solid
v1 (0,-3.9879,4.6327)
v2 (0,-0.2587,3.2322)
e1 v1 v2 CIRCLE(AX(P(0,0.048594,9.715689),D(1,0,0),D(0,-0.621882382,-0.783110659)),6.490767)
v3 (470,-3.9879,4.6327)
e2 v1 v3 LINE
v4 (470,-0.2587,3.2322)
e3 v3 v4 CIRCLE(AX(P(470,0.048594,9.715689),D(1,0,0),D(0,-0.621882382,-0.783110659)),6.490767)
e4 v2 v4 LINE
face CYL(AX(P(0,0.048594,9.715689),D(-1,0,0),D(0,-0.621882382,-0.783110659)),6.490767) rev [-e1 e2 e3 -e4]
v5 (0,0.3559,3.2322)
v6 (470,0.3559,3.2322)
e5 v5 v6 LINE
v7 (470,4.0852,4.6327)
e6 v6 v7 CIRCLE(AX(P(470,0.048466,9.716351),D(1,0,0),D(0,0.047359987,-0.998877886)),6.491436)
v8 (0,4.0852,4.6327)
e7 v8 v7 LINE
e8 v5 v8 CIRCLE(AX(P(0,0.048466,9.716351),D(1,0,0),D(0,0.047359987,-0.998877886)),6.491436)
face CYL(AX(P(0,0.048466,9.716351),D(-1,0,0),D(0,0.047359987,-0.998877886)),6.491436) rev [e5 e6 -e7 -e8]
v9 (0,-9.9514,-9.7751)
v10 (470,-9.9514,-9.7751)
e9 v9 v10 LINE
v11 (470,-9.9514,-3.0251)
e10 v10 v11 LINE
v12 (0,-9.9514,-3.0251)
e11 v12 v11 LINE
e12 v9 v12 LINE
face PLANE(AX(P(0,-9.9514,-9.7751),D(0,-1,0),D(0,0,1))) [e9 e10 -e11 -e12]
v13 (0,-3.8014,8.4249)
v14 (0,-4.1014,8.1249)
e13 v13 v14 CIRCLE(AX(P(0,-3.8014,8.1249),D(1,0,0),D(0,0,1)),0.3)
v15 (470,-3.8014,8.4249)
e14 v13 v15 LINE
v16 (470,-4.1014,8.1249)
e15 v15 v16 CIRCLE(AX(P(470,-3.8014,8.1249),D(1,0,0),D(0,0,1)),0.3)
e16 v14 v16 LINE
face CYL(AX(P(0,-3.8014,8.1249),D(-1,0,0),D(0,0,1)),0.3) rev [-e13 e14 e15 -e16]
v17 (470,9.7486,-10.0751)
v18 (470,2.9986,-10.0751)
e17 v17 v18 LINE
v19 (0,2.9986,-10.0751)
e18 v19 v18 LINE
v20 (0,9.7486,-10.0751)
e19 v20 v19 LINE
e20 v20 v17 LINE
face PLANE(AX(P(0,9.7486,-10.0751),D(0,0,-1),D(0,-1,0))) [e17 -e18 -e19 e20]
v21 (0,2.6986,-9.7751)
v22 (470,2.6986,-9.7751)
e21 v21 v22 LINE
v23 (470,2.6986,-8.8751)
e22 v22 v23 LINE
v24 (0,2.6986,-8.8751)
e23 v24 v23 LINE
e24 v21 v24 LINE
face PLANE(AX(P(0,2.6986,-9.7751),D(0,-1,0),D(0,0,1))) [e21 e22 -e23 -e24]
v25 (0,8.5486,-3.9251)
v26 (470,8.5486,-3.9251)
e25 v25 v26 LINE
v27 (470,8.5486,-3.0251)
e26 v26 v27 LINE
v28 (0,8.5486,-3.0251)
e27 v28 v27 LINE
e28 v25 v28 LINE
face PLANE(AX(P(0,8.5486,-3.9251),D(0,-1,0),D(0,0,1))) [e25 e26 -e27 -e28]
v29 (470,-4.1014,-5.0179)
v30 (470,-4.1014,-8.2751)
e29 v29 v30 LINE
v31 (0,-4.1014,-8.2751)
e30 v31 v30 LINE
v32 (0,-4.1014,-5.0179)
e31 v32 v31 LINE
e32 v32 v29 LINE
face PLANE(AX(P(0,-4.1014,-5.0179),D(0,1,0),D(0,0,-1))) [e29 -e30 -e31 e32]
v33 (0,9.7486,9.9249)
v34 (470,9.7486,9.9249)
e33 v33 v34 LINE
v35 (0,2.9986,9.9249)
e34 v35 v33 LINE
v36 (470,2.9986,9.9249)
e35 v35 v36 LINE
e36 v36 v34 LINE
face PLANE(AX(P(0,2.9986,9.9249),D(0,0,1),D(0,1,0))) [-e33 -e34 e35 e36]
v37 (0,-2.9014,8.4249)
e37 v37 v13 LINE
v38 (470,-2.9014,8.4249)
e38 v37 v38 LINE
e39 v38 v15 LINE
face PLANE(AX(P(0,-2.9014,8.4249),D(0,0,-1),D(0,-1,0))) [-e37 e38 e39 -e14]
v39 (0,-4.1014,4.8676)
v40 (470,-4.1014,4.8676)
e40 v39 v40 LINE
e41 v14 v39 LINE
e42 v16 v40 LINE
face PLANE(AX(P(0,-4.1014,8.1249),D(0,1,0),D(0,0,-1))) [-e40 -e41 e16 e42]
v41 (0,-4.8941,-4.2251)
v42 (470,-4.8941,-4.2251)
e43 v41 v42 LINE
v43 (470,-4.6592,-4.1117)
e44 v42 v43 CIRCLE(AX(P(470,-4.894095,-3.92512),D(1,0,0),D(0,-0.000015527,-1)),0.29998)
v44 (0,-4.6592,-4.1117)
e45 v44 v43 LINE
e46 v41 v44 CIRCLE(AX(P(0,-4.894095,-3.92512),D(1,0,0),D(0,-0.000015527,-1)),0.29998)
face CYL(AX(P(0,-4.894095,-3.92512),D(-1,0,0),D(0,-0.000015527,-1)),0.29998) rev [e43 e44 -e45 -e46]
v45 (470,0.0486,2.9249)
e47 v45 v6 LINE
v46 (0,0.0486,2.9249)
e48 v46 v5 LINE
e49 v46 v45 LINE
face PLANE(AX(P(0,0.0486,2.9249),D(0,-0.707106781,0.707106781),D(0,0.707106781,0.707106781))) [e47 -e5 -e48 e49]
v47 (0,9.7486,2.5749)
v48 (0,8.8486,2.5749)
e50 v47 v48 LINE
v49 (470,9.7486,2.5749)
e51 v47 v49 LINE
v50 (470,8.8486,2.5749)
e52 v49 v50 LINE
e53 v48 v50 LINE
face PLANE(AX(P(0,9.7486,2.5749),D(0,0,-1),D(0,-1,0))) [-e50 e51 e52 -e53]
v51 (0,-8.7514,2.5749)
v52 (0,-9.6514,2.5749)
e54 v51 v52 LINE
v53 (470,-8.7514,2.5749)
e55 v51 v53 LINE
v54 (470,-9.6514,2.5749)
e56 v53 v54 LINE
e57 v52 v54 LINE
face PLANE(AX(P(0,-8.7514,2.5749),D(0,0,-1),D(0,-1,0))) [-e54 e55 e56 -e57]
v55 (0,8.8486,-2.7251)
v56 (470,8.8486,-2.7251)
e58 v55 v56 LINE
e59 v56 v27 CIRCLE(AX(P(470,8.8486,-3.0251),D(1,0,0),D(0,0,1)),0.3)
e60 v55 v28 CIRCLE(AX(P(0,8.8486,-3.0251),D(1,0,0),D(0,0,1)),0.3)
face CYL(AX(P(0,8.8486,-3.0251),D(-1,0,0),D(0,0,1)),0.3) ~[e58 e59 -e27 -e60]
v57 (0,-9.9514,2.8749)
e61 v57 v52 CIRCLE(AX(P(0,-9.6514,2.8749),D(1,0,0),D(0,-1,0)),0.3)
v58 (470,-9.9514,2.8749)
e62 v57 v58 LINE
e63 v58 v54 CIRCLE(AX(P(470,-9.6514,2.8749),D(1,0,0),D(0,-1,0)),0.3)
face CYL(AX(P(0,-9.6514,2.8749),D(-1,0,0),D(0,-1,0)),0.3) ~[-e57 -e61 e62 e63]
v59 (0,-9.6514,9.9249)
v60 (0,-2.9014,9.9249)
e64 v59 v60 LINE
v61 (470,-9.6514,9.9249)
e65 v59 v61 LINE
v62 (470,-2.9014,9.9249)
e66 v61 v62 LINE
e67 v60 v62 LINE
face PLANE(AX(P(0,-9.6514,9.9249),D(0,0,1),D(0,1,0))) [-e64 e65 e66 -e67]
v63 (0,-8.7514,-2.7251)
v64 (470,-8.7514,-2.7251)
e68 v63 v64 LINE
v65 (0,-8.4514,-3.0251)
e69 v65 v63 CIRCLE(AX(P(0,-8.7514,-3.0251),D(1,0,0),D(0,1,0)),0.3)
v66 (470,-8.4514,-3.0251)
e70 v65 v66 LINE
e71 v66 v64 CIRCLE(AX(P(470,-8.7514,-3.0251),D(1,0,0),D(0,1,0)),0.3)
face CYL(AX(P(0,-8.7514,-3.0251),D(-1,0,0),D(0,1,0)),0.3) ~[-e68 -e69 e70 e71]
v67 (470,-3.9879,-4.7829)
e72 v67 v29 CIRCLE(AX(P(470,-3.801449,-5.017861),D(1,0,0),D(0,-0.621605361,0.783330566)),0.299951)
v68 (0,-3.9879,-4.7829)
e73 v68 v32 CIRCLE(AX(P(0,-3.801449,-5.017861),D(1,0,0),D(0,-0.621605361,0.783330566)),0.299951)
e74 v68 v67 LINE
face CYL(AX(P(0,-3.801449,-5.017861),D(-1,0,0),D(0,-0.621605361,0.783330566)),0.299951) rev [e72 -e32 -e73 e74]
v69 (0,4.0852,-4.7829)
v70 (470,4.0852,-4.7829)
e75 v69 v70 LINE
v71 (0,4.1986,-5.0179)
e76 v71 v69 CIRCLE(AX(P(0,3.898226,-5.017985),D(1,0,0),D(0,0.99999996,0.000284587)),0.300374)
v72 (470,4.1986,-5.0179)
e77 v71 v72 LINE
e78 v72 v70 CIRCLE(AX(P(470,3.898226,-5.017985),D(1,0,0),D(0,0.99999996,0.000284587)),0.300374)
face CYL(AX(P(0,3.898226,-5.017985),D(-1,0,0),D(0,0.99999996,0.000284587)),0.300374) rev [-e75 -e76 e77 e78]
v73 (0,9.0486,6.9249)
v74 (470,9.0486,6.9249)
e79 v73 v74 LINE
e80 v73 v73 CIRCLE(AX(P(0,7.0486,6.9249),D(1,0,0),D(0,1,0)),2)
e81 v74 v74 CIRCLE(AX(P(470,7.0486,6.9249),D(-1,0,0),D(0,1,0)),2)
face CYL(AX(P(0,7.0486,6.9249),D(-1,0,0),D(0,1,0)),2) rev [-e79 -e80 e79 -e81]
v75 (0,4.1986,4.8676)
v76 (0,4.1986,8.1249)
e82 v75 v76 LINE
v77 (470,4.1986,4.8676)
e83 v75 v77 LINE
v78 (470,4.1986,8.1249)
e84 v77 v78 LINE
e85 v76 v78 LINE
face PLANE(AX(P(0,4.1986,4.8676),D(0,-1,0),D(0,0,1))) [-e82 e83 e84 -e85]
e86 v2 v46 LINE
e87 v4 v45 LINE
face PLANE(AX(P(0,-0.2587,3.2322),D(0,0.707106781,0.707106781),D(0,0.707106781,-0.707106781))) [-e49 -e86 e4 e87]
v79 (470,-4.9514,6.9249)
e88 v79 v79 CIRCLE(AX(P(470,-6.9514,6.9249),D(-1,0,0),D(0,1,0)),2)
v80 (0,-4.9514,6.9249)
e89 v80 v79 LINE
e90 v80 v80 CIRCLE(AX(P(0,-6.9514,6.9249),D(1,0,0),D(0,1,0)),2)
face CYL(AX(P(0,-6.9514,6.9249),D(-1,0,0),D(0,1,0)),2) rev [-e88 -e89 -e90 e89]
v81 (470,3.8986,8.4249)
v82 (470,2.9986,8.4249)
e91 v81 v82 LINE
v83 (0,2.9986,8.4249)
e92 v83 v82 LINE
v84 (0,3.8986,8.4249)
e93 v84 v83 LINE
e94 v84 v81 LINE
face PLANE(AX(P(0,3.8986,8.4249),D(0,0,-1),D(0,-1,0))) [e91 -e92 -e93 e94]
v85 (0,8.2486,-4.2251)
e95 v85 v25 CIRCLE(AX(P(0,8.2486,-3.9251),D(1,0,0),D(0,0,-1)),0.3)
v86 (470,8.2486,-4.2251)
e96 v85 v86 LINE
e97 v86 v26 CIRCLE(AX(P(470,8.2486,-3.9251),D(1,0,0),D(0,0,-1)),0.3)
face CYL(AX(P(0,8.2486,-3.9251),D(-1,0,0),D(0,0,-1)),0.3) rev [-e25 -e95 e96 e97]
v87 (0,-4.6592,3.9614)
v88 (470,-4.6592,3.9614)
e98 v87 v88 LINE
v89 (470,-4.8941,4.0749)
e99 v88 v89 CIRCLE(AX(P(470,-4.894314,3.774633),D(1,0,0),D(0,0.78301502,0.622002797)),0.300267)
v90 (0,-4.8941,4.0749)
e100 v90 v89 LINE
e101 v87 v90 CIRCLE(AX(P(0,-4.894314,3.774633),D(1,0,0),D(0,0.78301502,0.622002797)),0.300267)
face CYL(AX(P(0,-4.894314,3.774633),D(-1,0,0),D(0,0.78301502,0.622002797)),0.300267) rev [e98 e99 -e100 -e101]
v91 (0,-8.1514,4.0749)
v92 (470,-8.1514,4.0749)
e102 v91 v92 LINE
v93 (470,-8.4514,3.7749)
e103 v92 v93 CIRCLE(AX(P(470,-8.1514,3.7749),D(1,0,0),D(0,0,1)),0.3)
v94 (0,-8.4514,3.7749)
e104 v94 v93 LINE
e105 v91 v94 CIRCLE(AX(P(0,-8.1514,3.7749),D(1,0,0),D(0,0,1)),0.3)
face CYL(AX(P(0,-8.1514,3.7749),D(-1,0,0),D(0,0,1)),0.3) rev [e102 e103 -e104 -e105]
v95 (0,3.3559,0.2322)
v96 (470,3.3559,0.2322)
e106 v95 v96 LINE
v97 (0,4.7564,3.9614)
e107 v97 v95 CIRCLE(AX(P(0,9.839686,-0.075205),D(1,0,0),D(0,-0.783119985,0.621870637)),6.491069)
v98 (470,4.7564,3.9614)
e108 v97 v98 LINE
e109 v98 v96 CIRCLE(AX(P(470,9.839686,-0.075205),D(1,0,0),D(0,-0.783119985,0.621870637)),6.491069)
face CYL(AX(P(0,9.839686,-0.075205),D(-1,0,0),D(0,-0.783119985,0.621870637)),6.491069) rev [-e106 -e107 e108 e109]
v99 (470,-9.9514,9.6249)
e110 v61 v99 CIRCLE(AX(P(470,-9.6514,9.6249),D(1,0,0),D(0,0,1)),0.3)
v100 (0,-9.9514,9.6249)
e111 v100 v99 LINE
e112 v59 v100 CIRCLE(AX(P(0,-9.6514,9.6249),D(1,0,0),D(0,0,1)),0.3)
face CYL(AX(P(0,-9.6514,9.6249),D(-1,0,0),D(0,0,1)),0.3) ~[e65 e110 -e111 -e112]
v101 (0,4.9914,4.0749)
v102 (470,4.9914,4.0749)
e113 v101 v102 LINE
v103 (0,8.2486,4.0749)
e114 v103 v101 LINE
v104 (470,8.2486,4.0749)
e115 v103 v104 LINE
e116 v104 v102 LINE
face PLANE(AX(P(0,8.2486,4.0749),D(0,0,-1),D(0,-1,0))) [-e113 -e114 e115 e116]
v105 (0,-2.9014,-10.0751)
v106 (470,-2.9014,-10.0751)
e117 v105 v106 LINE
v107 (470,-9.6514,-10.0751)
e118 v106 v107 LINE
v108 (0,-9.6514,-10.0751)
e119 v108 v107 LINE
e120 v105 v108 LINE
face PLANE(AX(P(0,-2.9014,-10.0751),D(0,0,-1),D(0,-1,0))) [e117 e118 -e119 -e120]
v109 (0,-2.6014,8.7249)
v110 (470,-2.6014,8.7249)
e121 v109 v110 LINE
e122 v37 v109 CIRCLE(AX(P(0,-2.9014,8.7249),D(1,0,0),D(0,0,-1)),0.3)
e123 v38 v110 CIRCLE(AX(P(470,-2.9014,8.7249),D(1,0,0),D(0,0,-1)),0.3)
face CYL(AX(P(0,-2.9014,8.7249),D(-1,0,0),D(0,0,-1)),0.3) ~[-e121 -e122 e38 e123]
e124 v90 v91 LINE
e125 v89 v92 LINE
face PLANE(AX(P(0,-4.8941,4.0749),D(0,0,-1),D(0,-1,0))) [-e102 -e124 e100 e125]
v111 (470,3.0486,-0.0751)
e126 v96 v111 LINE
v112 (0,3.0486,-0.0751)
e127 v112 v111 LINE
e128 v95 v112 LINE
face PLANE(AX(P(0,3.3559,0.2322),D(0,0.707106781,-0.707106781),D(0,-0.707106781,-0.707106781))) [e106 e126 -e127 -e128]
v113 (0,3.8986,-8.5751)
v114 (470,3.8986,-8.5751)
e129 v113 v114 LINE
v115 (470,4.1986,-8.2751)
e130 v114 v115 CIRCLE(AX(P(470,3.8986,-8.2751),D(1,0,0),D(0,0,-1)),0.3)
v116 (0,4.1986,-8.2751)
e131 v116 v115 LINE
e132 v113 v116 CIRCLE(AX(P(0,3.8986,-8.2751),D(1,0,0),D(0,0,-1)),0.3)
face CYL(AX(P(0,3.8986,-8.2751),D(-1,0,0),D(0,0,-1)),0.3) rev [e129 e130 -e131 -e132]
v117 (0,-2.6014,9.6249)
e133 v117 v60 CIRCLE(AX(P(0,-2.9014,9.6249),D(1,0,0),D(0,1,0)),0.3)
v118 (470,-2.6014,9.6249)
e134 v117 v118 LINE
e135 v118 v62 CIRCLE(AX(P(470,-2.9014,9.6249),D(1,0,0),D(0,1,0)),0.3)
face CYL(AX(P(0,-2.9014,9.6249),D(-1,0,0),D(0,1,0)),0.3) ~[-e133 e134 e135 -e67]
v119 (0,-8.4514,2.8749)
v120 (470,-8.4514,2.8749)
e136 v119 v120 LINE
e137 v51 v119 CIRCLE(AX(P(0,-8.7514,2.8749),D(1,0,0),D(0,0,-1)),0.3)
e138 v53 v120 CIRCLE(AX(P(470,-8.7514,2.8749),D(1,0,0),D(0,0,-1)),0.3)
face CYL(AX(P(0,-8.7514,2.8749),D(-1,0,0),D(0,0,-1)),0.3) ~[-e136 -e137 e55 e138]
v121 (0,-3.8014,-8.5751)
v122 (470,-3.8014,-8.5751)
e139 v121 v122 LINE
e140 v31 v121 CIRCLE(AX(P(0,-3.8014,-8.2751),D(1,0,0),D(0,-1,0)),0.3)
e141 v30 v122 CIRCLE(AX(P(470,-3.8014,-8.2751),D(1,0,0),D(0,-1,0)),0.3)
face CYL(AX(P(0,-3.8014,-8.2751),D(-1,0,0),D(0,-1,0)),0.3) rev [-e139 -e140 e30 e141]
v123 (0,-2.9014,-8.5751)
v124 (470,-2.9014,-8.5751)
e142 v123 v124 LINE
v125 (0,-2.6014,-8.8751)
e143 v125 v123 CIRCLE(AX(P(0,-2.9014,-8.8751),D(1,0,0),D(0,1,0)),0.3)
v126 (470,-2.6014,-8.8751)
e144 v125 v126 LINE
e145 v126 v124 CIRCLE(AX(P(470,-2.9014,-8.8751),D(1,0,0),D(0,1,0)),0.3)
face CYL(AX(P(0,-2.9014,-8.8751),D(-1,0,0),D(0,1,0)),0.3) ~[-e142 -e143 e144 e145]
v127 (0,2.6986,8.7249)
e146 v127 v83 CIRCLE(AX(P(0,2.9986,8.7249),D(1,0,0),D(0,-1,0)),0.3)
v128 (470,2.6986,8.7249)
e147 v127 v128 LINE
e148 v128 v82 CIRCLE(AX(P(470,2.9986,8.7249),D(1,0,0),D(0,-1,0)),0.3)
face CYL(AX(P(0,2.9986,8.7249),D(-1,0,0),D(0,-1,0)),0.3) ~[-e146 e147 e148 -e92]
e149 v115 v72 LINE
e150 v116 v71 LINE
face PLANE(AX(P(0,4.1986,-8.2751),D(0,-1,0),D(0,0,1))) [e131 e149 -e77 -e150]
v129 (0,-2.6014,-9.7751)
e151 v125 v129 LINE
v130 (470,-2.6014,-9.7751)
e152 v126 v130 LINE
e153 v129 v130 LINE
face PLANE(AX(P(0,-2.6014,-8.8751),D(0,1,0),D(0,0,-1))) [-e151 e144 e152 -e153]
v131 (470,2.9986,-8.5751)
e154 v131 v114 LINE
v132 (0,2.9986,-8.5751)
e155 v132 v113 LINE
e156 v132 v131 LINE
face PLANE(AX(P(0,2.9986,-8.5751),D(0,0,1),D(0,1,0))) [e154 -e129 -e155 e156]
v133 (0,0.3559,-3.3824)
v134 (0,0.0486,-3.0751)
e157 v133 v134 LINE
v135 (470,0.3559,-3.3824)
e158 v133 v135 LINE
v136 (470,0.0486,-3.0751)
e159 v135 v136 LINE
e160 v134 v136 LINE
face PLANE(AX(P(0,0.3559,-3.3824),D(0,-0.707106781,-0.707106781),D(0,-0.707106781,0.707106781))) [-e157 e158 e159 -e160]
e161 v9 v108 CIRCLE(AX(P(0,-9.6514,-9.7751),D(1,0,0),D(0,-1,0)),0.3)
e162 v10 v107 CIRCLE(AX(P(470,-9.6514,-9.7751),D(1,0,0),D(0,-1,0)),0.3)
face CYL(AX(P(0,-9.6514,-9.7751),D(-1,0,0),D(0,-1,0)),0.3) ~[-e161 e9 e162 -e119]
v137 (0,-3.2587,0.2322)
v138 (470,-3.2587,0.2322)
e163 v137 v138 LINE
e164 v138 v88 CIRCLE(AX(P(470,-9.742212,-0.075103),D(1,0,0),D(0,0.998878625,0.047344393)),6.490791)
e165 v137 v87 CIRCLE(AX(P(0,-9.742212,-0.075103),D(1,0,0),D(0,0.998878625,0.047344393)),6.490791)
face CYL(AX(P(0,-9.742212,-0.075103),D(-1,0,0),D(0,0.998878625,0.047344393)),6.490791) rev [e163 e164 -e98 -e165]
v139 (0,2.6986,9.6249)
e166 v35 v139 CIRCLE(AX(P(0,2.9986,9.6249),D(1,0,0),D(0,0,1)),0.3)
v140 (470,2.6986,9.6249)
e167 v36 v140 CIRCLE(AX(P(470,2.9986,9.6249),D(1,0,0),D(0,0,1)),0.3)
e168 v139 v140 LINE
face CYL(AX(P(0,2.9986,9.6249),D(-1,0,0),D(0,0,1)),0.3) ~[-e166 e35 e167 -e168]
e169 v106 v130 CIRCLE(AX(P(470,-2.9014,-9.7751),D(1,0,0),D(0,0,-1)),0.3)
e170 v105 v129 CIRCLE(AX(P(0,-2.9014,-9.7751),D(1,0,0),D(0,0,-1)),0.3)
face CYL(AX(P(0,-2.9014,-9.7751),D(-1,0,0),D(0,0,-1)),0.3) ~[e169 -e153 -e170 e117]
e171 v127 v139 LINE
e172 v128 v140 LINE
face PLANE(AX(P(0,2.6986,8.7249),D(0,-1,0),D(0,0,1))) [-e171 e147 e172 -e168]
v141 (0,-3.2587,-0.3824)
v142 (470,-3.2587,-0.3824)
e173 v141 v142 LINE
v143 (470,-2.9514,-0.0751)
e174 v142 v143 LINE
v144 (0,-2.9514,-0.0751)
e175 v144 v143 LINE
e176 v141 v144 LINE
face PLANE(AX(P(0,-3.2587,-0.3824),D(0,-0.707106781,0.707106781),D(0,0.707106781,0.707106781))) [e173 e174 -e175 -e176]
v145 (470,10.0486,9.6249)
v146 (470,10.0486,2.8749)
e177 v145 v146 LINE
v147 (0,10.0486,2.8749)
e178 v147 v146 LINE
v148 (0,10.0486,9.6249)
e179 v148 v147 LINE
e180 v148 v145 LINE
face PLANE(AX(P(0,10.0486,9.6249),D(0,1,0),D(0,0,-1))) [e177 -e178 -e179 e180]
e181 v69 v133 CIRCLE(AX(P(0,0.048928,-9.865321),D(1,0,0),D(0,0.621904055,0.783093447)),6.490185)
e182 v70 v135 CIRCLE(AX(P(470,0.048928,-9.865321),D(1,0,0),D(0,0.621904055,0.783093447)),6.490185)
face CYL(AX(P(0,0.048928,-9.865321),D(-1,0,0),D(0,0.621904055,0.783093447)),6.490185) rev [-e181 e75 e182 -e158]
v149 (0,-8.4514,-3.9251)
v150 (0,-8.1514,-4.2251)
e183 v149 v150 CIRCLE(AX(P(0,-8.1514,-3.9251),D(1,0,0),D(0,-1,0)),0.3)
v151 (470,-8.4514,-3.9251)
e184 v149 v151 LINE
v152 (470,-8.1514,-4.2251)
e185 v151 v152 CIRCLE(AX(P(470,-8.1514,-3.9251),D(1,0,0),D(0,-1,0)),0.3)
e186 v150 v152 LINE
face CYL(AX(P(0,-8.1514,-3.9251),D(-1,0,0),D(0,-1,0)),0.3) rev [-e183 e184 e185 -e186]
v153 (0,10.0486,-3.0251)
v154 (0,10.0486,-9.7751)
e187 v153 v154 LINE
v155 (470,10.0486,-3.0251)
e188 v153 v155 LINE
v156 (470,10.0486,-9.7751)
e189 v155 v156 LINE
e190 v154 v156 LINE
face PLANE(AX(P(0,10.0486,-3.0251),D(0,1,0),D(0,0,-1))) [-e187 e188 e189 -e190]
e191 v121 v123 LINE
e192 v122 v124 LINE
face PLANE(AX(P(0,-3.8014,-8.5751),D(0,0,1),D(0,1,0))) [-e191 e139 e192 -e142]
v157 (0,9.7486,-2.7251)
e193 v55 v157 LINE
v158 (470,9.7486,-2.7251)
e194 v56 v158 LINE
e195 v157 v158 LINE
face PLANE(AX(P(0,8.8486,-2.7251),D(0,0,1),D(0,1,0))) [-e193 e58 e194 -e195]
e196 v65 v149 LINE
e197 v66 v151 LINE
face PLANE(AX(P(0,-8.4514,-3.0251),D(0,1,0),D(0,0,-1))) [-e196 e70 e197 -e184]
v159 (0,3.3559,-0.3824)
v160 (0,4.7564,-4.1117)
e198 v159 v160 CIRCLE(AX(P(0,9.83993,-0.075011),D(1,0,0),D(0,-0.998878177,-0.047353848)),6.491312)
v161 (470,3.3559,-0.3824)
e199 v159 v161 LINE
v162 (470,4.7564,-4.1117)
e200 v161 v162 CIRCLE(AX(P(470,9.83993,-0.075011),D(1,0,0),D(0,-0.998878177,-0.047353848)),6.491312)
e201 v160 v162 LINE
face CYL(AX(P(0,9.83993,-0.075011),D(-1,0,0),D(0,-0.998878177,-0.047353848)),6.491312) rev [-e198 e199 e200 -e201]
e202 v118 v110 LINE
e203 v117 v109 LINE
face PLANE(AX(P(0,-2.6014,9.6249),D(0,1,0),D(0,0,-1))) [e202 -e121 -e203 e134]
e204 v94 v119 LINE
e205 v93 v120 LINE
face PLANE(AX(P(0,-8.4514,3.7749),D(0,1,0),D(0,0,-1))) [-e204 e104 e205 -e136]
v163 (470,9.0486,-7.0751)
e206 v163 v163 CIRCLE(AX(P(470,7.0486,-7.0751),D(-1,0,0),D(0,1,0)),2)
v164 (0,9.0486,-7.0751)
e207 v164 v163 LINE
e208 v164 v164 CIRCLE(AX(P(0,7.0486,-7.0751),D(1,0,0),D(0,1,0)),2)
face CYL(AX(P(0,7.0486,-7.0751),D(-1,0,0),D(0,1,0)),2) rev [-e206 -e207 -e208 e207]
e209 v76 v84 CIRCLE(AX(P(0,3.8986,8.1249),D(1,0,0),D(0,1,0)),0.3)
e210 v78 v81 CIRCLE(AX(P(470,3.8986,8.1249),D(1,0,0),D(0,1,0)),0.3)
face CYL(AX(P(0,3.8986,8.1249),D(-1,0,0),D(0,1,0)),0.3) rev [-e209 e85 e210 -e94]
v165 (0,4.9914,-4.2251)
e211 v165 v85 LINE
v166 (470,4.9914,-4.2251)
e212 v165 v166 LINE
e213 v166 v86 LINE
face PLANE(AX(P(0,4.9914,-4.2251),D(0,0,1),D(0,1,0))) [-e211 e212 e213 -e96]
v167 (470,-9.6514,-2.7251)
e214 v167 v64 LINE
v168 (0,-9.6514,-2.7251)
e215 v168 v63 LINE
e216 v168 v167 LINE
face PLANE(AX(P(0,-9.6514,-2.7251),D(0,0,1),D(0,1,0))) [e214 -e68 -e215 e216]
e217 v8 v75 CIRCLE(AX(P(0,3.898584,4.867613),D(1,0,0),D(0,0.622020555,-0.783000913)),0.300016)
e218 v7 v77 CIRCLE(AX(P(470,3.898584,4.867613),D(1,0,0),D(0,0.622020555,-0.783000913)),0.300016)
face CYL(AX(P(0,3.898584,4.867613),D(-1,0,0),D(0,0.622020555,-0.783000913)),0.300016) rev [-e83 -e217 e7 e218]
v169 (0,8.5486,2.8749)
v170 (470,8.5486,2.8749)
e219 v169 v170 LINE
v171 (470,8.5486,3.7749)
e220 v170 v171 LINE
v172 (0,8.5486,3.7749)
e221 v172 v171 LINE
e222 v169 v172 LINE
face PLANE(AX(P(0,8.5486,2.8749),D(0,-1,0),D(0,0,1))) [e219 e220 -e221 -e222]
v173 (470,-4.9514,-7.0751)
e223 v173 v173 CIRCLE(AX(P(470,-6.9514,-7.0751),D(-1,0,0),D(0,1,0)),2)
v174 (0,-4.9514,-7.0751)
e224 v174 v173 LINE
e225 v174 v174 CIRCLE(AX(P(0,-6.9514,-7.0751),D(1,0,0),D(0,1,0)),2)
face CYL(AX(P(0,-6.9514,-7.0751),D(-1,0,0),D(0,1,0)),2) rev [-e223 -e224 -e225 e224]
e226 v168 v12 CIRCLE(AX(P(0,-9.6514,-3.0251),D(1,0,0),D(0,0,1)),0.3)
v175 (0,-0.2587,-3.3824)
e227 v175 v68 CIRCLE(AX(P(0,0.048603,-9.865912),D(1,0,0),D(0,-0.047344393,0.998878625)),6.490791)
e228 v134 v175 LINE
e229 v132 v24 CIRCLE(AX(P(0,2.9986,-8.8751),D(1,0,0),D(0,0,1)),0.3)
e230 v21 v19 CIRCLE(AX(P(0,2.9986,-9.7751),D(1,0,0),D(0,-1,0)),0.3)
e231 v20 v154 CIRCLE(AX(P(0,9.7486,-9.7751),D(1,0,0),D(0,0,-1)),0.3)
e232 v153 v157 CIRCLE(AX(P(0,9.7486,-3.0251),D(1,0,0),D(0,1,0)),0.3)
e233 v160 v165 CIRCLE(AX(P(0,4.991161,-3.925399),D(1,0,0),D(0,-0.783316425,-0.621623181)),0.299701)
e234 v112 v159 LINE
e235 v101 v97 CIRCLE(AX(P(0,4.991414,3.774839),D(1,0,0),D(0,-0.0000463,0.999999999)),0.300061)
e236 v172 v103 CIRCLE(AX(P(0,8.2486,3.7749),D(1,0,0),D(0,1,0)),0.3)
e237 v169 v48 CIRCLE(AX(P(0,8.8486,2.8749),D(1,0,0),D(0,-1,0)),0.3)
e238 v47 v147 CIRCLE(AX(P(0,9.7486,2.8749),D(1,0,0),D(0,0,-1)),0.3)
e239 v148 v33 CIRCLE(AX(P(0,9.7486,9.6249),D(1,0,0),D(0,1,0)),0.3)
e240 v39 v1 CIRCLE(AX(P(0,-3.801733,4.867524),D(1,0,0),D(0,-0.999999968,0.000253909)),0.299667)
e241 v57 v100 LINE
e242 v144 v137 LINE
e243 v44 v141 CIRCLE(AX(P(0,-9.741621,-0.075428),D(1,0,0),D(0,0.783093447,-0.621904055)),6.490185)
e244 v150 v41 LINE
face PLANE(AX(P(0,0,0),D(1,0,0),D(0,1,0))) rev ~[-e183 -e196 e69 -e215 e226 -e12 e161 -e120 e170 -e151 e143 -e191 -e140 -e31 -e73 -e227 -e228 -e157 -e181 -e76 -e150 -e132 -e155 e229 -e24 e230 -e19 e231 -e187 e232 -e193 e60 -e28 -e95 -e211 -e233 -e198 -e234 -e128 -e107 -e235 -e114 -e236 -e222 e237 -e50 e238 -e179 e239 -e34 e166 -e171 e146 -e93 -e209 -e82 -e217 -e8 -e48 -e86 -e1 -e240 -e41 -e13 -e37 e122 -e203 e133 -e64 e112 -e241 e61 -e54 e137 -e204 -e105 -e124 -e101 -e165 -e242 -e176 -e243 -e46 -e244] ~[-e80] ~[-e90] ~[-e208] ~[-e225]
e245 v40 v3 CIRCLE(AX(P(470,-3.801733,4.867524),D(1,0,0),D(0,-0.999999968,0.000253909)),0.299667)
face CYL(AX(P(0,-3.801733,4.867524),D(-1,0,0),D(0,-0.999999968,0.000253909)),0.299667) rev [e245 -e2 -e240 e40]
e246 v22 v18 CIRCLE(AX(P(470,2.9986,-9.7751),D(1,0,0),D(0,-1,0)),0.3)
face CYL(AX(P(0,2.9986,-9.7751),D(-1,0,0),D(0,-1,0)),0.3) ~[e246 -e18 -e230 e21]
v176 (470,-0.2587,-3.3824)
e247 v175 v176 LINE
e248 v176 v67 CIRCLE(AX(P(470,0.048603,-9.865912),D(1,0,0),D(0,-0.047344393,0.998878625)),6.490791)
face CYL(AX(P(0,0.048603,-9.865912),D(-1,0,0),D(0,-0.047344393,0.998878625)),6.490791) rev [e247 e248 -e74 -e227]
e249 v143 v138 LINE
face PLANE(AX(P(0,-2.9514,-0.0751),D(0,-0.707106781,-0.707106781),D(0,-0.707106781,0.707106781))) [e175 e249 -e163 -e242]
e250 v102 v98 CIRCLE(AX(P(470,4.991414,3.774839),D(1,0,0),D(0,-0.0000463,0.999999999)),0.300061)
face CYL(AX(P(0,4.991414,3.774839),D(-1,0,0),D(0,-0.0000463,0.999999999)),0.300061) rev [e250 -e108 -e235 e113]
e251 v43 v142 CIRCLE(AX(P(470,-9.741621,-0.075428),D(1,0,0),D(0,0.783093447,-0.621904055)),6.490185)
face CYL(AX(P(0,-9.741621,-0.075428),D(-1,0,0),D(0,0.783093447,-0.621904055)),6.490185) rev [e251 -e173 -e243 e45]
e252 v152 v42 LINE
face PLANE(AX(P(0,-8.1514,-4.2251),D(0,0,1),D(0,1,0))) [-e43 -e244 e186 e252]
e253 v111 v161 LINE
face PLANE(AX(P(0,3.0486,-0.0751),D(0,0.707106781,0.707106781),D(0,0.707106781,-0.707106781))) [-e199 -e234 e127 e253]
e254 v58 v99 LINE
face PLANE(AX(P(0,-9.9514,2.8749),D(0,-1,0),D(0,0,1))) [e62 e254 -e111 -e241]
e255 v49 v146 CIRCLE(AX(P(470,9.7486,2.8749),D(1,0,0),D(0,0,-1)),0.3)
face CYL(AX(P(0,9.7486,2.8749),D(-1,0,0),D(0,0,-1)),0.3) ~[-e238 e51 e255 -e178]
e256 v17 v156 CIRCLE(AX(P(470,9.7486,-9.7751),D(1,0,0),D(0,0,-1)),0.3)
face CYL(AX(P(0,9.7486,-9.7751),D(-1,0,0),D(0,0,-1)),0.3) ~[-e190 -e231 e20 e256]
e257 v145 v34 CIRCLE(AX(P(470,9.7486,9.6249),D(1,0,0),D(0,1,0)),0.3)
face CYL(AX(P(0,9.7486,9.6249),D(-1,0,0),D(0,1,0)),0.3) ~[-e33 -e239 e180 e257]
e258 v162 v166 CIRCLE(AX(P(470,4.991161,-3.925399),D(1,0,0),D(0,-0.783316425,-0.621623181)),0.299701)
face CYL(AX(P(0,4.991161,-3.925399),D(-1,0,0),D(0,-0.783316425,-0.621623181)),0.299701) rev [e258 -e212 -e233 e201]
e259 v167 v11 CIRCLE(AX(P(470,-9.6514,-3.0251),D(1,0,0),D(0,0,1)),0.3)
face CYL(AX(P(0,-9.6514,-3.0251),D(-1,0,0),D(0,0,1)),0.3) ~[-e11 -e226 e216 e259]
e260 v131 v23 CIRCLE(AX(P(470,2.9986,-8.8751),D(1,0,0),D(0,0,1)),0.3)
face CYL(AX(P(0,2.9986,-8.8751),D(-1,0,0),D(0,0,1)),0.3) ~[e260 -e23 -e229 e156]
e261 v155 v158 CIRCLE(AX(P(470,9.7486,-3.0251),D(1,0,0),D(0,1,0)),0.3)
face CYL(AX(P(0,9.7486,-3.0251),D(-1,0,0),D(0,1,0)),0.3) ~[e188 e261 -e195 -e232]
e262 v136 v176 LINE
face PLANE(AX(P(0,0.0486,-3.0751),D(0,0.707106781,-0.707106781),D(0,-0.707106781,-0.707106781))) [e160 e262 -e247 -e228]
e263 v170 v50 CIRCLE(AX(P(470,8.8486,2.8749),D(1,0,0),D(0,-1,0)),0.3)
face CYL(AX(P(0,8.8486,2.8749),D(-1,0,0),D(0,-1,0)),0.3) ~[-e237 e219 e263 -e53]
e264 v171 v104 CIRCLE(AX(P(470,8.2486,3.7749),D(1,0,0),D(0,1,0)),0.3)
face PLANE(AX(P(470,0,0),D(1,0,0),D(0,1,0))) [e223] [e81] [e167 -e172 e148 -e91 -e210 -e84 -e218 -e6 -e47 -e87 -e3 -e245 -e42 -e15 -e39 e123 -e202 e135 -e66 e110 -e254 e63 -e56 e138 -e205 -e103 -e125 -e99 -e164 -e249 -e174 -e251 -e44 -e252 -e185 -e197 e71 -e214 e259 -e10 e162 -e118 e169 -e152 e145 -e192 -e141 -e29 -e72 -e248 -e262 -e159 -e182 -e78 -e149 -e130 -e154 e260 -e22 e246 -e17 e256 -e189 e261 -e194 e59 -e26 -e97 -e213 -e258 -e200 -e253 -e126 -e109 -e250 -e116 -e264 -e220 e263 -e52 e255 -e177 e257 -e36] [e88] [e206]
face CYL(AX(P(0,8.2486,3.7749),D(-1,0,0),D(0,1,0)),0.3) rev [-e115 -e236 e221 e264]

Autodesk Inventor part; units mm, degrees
ref_plane "YZ Plane" through (0, 0, 0) normal (1, 0, 0) x (0, 1, 0)
ref_plane "XZ Plane" through (0, 0, 0) normal (0, 1, 0) x (-1, 0, 0)
ref_plane "XY Plane" through (0, 0, 0) normal (0, 0, 1) x (1, 0, 0)
sketch "Sketch1" plane through (0, 0, 0) normal (1, 0, 0) x (0, 1, 0)
  line L0 (9.5486, -7.0751) -> (4.5486, -7.0751)
  line L1 (7.0486, -9.5751) -> (7.0486, -4.5751)
  circle A0 centre (7.0486, -7.0751) radius 2
  circle A1 centre (7.0486, 6.9249) radius 2
  line L2 (7.0486, 9.4249) -> (7.0486, 4.4249)
  line L3 (9.5486, 6.9249) -> (4.5486, 6.9249)
  line L4 (4.1986, 4.8676) -> (4.1986, 8.1249)
  arc A2 (4.1986, 8.1249) -> (3.8986, 8.4249) centre (3.8986, 8.1249) ccw
  line L5 (3.8986, 8.4249) -> (2.9986, 8.4249)
  arc A3 (2.6986, 8.7249) -> (2.9986, 8.4249) centre (2.9986, 8.7249) ccw
  line L6 (2.6986, 8.7249) -> (2.6986, 9.6249)
  arc A4 (2.9986, 9.9249) -> (2.6986, 9.6249) centre (2.9986, 9.6249) ccw
  line L7 (2.9986, 9.9249) -> (9.7486, 9.9249)
  arc A5 (10.0486, 9.6249) -> (9.7486, 9.9249) centre (9.7486, 9.6249) ccw
  line L8 (10.0486, 9.6249) -> (10.0486, 2.8749)
  arc A6 (9.7486, 2.5749) -> (10.0486, 2.8749) centre (9.7486, 2.8749) ccw
  line L9 (9.7486, 2.5749) -> (8.8486, 2.5749)
  arc A7 (8.5486, 2.8749) -> (8.8486, 2.5749) centre (8.8486, 2.8749) ccw
  line L10 (8.5486, 2.8749) -> (8.5486, 3.7749)
  arc A8 (8.5486, 3.7749) -> (8.2486, 4.0749) centre (8.2486, 3.7749) ccw
  line L11 (8.2486, 4.0749) -> (4.9914, 4.0749)
  arc A9 (4.9914, 4.0749) -> (4.7564, 3.9614) centre (4.9914, 3.7749) ccw
  arc A10 (4.7564, 3.9614) -> (3.3559, 0.2322) centre (9.8395, -0.0751) ccw
  line L12 (3.3559, 0.2322) -> (3.0486, -0.0751)
  line L13 (3.0486, -0.0751) -> (3.3559, -0.3824)
  arc A11 (3.3559, -0.3824) -> (4.7564, -4.1117) centre (9.8395, -0.0751) ccw
  arc A12 (4.7564, -4.1117) -> (4.9914, -4.2251) centre (4.9914, -3.9251) ccw
  line L14 (4.9914, -4.2251) -> (8.2486, -4.2251)
  arc A13 (8.2486, -4.2251) -> (8.5486, -3.9251) centre (8.2486, -3.9251) ccw
  line L15 (8.5486, -3.9251) -> (8.5486, -3.0251)
  arc A14 (8.8486, -2.7251) -> (8.5486, -3.0251) centre (8.8486, -3.0251) ccw
  line L16 (8.8486, -2.7251) -> (9.7486, -2.7251)
  arc A15 (10.0486, -3.0251) -> (9.7486, -2.7251) centre (9.7486, -3.0251) ccw
  line L17 (10.0486, -3.0251) -> (10.0486, -9.7751)
  arc A16 (9.7486, -10.0751) -> (10.0486, -9.7751) centre (9.7486, -9.7751) ccw
  line L18 (9.7486, -10.0751) -> (2.9986, -10.0751)
  arc A17 (2.6986, -9.7751) -> (2.9986, -10.0751) centre (2.9986, -9.7751) ccw
  line L19 (2.6986, -9.7751) -> (2.6986, -8.8751)
  arc A18 (2.9986, -8.5751) -> (2.6986, -8.8751) centre (2.9986, -8.8751) ccw
  line L20 (2.9986, -8.5751) -> (3.8986, -8.5751)
  arc A19 (3.8986, -8.5751) -> (4.1986, -8.2751) centre (3.8986, -8.2751) ccw
  line L21 (4.1986, -8.2751) -> (4.1986, -5.0179)
  arc A20 (4.1986, -5.0179) -> (4.0852, -4.7829) centre (3.8986, -5.0179) ccw
  arc A21 (4.0852, -4.7829) -> (0.3559, -3.3824) centre (0.0486, -9.8659) ccw
  line L22 (0.3559, -3.3824) -> (0.0486, -3.0751)
  line L23 (0.0486, -3.0751) -> (-0.2587, -3.3824)
  arc A22 (-0.2587, -3.3824) -> (-3.9879, -4.7829) centre (0.0486, -9.8659) ccw
  arc A23 (-3.9879, -4.7829) -> (-4.1014, -5.0179) centre (-3.8014, -5.0179) ccw
  line L24 (-4.1014, -5.0179) -> (-4.1014, -8.2751)
  arc A24 (-4.1014, -8.2751) -> (-3.8014, -8.5751) centre (-3.8014, -8.2751) ccw
  line L25 (-3.8014, -8.5751) -> (-2.9014, -8.5751)
  arc A25 (-2.6014, -8.8751) -> (-2.9014, -8.5751) centre (-2.9014, -8.8751) ccw
  line L26 (-2.6014, -8.8751) -> (-2.6014, -9.7751)
  arc A26 (-2.9014, -10.0751) -> (-2.6014, -9.7751) centre (-2.9014, -9.7751) ccw
  line L27 (-2.9014, -10.0751) -> (-9.6514, -10.0751)
  arc A27 (-9.9514, -9.7751) -> (-9.6514, -10.0751) centre (-9.6514, -9.7751) ccw
  line L28 (-9.9514, -9.7751) -> (-9.9514, -3.0251)
  arc A28 (-9.6514, -2.7251) -> (-9.9514, -3.0251) centre (-9.6514, -3.0251) ccw
  line L29 (-9.6514, -2.7251) -> (-8.7514, -2.7251)
  arc A29 (-8.4514, -3.0251) -> (-8.7514, -2.7251) centre (-8.7514, -3.0251) ccw
  line L30 (-8.4514, -3.0251) -> (-8.4514, -3.9251)
  arc A30 (-8.4514, -3.9251) -> (-8.1514, -4.2251) centre (-8.1514, -3.9251) ccw
  line L31 (-8.1514, -4.2251) -> (-4.8941, -4.2251)
  arc A31 (-4.8941, -4.2251) -> (-4.6592, -4.1117) centre (-4.8941, -3.9251) ccw
  arc A32 (-4.6592, -4.1117) -> (-3.2587, -0.3824) centre (-9.7422, -0.0751) ccw
  line L32 (-3.2587, -0.3824) -> (-2.9514, -0.0751)
  line L33 (-2.9514, -0.0751) -> (-3.2587, 0.2322)
  arc A33 (-3.2587, 0.2322) -> (-4.6592, 3.9614) centre (-9.7422, -0.0751) ccw
  arc A34 (-4.6592, 3.9614) -> (-4.8941, 4.0749) centre (-4.8941, 3.7749) ccw
  line L34 (-4.8941, 4.0749) -> (-8.1514, 4.0749)
  arc A35 (-8.1514, 4.0749) -> (-8.4514, 3.7749) centre (-8.1514, 3.7749) ccw
  line L35 (-8.4514, 3.7749) -> (-8.4514, 2.8749)
  arc A36 (-8.7514, 2.5749) -> (-8.4514, 2.8749) centre (-8.7514, 2.8749) ccw
  line L36 (-8.7514, 2.5749) -> (-9.6514, 2.5749)
  arc A37 (-9.9514, 2.8749) -> (-9.6514, 2.5749) centre (-9.6514, 2.8749) ccw
  line L37 (-9.9514, 2.8749) -> (-9.9514, 9.6249)
  arc A38 (-9.6514, 9.9249) -> (-9.9514, 9.6249) centre (-9.6514, 9.6249) ccw
  line L38 (-9.6514, 9.9249) -> (-2.9014, 9.9249)
  arc A39 (-2.6014, 9.6249) -> (-2.9014, 9.9249) centre (-2.9014, 9.6249) ccw
  line L39 (-2.6014, 9.6249) -> (-2.6014, 8.7249)
  arc A40 (-2.9014, 8.4249) -> (-2.6014, 8.7249) centre (-2.9014, 8.7249) ccw
  line L40 (-2.9014, 8.4249) -> (-3.8014, 8.4249)
  arc A41 (-3.8014, 8.4249) -> (-4.1014, 8.1249) centre (-3.8014, 8.1249) ccw
  line L41 (-4.1014, 8.1249) -> (-4.1014, 4.8676)
  arc A42 (-4.1014, 4.8676) -> (-3.9879, 4.6327) centre (-3.8014, 4.8676) ccw
  arc A43 (-3.9879, 4.6327) -> (-0.2587, 3.2322) centre (0.0486, 9.7157) ccw
  line L42 (-0.2587, 3.2322) -> (0.0486, 2.9249)
  line L43 (0.0486, 2.9249) -> (0.3559, 3.2322)
  arc A44 (0.3559, 3.2322) -> (4.0852, 4.6327) centre (0.0486, 9.7157) ccw
  arc A45 (4.0852, 4.6327) -> (4.1986, 4.8676) centre (3.8986, 4.8676) ccw
  line L44 (-11.1503, -0.0751) -> (11.2475, -0.0751)
  circle A46 centre (0.0486, -0.0751) radius 2.15
  circle A47 centre (-6.9514, -7.0751) radius 2
  line L45 (-6.9514, -9.5751) -> (-6.9514, -4.5751)
  line L46 (-9.4514, -7.0751) -> (-4.4514, -7.0751)
  circle A48 centre (-6.9514, 6.9249) radius 2
  line L47 (-6.9514, 9.4249) -> (-6.9514, 4.4249)
  line L48 (-9.4514, 6.9249) -> (-4.4514, 6.9249)
extrude "Extrusion1" add sketch "Sketch1" along normal blind 470
equation "\"BendRadius\" = Thickness"
equation "\"BendReliefWidth\" = Thickness"
equation "\"BendReliefDepth\" = 0.5 * Thickness"
equation "\"CornerReliefSize\" = 4 * Thickness"
equation "\"MinimumRemnant\" = 2 * Thickness"
equation "\"TransitionRadius\" = BendRadius"
equation "\"JacobiRadiusSize\" = BendRadius"
equation "\"GapSize\" = Thickness"
equation "\"Thickness\" = 3.048"
properties part number "600mm 2020"
